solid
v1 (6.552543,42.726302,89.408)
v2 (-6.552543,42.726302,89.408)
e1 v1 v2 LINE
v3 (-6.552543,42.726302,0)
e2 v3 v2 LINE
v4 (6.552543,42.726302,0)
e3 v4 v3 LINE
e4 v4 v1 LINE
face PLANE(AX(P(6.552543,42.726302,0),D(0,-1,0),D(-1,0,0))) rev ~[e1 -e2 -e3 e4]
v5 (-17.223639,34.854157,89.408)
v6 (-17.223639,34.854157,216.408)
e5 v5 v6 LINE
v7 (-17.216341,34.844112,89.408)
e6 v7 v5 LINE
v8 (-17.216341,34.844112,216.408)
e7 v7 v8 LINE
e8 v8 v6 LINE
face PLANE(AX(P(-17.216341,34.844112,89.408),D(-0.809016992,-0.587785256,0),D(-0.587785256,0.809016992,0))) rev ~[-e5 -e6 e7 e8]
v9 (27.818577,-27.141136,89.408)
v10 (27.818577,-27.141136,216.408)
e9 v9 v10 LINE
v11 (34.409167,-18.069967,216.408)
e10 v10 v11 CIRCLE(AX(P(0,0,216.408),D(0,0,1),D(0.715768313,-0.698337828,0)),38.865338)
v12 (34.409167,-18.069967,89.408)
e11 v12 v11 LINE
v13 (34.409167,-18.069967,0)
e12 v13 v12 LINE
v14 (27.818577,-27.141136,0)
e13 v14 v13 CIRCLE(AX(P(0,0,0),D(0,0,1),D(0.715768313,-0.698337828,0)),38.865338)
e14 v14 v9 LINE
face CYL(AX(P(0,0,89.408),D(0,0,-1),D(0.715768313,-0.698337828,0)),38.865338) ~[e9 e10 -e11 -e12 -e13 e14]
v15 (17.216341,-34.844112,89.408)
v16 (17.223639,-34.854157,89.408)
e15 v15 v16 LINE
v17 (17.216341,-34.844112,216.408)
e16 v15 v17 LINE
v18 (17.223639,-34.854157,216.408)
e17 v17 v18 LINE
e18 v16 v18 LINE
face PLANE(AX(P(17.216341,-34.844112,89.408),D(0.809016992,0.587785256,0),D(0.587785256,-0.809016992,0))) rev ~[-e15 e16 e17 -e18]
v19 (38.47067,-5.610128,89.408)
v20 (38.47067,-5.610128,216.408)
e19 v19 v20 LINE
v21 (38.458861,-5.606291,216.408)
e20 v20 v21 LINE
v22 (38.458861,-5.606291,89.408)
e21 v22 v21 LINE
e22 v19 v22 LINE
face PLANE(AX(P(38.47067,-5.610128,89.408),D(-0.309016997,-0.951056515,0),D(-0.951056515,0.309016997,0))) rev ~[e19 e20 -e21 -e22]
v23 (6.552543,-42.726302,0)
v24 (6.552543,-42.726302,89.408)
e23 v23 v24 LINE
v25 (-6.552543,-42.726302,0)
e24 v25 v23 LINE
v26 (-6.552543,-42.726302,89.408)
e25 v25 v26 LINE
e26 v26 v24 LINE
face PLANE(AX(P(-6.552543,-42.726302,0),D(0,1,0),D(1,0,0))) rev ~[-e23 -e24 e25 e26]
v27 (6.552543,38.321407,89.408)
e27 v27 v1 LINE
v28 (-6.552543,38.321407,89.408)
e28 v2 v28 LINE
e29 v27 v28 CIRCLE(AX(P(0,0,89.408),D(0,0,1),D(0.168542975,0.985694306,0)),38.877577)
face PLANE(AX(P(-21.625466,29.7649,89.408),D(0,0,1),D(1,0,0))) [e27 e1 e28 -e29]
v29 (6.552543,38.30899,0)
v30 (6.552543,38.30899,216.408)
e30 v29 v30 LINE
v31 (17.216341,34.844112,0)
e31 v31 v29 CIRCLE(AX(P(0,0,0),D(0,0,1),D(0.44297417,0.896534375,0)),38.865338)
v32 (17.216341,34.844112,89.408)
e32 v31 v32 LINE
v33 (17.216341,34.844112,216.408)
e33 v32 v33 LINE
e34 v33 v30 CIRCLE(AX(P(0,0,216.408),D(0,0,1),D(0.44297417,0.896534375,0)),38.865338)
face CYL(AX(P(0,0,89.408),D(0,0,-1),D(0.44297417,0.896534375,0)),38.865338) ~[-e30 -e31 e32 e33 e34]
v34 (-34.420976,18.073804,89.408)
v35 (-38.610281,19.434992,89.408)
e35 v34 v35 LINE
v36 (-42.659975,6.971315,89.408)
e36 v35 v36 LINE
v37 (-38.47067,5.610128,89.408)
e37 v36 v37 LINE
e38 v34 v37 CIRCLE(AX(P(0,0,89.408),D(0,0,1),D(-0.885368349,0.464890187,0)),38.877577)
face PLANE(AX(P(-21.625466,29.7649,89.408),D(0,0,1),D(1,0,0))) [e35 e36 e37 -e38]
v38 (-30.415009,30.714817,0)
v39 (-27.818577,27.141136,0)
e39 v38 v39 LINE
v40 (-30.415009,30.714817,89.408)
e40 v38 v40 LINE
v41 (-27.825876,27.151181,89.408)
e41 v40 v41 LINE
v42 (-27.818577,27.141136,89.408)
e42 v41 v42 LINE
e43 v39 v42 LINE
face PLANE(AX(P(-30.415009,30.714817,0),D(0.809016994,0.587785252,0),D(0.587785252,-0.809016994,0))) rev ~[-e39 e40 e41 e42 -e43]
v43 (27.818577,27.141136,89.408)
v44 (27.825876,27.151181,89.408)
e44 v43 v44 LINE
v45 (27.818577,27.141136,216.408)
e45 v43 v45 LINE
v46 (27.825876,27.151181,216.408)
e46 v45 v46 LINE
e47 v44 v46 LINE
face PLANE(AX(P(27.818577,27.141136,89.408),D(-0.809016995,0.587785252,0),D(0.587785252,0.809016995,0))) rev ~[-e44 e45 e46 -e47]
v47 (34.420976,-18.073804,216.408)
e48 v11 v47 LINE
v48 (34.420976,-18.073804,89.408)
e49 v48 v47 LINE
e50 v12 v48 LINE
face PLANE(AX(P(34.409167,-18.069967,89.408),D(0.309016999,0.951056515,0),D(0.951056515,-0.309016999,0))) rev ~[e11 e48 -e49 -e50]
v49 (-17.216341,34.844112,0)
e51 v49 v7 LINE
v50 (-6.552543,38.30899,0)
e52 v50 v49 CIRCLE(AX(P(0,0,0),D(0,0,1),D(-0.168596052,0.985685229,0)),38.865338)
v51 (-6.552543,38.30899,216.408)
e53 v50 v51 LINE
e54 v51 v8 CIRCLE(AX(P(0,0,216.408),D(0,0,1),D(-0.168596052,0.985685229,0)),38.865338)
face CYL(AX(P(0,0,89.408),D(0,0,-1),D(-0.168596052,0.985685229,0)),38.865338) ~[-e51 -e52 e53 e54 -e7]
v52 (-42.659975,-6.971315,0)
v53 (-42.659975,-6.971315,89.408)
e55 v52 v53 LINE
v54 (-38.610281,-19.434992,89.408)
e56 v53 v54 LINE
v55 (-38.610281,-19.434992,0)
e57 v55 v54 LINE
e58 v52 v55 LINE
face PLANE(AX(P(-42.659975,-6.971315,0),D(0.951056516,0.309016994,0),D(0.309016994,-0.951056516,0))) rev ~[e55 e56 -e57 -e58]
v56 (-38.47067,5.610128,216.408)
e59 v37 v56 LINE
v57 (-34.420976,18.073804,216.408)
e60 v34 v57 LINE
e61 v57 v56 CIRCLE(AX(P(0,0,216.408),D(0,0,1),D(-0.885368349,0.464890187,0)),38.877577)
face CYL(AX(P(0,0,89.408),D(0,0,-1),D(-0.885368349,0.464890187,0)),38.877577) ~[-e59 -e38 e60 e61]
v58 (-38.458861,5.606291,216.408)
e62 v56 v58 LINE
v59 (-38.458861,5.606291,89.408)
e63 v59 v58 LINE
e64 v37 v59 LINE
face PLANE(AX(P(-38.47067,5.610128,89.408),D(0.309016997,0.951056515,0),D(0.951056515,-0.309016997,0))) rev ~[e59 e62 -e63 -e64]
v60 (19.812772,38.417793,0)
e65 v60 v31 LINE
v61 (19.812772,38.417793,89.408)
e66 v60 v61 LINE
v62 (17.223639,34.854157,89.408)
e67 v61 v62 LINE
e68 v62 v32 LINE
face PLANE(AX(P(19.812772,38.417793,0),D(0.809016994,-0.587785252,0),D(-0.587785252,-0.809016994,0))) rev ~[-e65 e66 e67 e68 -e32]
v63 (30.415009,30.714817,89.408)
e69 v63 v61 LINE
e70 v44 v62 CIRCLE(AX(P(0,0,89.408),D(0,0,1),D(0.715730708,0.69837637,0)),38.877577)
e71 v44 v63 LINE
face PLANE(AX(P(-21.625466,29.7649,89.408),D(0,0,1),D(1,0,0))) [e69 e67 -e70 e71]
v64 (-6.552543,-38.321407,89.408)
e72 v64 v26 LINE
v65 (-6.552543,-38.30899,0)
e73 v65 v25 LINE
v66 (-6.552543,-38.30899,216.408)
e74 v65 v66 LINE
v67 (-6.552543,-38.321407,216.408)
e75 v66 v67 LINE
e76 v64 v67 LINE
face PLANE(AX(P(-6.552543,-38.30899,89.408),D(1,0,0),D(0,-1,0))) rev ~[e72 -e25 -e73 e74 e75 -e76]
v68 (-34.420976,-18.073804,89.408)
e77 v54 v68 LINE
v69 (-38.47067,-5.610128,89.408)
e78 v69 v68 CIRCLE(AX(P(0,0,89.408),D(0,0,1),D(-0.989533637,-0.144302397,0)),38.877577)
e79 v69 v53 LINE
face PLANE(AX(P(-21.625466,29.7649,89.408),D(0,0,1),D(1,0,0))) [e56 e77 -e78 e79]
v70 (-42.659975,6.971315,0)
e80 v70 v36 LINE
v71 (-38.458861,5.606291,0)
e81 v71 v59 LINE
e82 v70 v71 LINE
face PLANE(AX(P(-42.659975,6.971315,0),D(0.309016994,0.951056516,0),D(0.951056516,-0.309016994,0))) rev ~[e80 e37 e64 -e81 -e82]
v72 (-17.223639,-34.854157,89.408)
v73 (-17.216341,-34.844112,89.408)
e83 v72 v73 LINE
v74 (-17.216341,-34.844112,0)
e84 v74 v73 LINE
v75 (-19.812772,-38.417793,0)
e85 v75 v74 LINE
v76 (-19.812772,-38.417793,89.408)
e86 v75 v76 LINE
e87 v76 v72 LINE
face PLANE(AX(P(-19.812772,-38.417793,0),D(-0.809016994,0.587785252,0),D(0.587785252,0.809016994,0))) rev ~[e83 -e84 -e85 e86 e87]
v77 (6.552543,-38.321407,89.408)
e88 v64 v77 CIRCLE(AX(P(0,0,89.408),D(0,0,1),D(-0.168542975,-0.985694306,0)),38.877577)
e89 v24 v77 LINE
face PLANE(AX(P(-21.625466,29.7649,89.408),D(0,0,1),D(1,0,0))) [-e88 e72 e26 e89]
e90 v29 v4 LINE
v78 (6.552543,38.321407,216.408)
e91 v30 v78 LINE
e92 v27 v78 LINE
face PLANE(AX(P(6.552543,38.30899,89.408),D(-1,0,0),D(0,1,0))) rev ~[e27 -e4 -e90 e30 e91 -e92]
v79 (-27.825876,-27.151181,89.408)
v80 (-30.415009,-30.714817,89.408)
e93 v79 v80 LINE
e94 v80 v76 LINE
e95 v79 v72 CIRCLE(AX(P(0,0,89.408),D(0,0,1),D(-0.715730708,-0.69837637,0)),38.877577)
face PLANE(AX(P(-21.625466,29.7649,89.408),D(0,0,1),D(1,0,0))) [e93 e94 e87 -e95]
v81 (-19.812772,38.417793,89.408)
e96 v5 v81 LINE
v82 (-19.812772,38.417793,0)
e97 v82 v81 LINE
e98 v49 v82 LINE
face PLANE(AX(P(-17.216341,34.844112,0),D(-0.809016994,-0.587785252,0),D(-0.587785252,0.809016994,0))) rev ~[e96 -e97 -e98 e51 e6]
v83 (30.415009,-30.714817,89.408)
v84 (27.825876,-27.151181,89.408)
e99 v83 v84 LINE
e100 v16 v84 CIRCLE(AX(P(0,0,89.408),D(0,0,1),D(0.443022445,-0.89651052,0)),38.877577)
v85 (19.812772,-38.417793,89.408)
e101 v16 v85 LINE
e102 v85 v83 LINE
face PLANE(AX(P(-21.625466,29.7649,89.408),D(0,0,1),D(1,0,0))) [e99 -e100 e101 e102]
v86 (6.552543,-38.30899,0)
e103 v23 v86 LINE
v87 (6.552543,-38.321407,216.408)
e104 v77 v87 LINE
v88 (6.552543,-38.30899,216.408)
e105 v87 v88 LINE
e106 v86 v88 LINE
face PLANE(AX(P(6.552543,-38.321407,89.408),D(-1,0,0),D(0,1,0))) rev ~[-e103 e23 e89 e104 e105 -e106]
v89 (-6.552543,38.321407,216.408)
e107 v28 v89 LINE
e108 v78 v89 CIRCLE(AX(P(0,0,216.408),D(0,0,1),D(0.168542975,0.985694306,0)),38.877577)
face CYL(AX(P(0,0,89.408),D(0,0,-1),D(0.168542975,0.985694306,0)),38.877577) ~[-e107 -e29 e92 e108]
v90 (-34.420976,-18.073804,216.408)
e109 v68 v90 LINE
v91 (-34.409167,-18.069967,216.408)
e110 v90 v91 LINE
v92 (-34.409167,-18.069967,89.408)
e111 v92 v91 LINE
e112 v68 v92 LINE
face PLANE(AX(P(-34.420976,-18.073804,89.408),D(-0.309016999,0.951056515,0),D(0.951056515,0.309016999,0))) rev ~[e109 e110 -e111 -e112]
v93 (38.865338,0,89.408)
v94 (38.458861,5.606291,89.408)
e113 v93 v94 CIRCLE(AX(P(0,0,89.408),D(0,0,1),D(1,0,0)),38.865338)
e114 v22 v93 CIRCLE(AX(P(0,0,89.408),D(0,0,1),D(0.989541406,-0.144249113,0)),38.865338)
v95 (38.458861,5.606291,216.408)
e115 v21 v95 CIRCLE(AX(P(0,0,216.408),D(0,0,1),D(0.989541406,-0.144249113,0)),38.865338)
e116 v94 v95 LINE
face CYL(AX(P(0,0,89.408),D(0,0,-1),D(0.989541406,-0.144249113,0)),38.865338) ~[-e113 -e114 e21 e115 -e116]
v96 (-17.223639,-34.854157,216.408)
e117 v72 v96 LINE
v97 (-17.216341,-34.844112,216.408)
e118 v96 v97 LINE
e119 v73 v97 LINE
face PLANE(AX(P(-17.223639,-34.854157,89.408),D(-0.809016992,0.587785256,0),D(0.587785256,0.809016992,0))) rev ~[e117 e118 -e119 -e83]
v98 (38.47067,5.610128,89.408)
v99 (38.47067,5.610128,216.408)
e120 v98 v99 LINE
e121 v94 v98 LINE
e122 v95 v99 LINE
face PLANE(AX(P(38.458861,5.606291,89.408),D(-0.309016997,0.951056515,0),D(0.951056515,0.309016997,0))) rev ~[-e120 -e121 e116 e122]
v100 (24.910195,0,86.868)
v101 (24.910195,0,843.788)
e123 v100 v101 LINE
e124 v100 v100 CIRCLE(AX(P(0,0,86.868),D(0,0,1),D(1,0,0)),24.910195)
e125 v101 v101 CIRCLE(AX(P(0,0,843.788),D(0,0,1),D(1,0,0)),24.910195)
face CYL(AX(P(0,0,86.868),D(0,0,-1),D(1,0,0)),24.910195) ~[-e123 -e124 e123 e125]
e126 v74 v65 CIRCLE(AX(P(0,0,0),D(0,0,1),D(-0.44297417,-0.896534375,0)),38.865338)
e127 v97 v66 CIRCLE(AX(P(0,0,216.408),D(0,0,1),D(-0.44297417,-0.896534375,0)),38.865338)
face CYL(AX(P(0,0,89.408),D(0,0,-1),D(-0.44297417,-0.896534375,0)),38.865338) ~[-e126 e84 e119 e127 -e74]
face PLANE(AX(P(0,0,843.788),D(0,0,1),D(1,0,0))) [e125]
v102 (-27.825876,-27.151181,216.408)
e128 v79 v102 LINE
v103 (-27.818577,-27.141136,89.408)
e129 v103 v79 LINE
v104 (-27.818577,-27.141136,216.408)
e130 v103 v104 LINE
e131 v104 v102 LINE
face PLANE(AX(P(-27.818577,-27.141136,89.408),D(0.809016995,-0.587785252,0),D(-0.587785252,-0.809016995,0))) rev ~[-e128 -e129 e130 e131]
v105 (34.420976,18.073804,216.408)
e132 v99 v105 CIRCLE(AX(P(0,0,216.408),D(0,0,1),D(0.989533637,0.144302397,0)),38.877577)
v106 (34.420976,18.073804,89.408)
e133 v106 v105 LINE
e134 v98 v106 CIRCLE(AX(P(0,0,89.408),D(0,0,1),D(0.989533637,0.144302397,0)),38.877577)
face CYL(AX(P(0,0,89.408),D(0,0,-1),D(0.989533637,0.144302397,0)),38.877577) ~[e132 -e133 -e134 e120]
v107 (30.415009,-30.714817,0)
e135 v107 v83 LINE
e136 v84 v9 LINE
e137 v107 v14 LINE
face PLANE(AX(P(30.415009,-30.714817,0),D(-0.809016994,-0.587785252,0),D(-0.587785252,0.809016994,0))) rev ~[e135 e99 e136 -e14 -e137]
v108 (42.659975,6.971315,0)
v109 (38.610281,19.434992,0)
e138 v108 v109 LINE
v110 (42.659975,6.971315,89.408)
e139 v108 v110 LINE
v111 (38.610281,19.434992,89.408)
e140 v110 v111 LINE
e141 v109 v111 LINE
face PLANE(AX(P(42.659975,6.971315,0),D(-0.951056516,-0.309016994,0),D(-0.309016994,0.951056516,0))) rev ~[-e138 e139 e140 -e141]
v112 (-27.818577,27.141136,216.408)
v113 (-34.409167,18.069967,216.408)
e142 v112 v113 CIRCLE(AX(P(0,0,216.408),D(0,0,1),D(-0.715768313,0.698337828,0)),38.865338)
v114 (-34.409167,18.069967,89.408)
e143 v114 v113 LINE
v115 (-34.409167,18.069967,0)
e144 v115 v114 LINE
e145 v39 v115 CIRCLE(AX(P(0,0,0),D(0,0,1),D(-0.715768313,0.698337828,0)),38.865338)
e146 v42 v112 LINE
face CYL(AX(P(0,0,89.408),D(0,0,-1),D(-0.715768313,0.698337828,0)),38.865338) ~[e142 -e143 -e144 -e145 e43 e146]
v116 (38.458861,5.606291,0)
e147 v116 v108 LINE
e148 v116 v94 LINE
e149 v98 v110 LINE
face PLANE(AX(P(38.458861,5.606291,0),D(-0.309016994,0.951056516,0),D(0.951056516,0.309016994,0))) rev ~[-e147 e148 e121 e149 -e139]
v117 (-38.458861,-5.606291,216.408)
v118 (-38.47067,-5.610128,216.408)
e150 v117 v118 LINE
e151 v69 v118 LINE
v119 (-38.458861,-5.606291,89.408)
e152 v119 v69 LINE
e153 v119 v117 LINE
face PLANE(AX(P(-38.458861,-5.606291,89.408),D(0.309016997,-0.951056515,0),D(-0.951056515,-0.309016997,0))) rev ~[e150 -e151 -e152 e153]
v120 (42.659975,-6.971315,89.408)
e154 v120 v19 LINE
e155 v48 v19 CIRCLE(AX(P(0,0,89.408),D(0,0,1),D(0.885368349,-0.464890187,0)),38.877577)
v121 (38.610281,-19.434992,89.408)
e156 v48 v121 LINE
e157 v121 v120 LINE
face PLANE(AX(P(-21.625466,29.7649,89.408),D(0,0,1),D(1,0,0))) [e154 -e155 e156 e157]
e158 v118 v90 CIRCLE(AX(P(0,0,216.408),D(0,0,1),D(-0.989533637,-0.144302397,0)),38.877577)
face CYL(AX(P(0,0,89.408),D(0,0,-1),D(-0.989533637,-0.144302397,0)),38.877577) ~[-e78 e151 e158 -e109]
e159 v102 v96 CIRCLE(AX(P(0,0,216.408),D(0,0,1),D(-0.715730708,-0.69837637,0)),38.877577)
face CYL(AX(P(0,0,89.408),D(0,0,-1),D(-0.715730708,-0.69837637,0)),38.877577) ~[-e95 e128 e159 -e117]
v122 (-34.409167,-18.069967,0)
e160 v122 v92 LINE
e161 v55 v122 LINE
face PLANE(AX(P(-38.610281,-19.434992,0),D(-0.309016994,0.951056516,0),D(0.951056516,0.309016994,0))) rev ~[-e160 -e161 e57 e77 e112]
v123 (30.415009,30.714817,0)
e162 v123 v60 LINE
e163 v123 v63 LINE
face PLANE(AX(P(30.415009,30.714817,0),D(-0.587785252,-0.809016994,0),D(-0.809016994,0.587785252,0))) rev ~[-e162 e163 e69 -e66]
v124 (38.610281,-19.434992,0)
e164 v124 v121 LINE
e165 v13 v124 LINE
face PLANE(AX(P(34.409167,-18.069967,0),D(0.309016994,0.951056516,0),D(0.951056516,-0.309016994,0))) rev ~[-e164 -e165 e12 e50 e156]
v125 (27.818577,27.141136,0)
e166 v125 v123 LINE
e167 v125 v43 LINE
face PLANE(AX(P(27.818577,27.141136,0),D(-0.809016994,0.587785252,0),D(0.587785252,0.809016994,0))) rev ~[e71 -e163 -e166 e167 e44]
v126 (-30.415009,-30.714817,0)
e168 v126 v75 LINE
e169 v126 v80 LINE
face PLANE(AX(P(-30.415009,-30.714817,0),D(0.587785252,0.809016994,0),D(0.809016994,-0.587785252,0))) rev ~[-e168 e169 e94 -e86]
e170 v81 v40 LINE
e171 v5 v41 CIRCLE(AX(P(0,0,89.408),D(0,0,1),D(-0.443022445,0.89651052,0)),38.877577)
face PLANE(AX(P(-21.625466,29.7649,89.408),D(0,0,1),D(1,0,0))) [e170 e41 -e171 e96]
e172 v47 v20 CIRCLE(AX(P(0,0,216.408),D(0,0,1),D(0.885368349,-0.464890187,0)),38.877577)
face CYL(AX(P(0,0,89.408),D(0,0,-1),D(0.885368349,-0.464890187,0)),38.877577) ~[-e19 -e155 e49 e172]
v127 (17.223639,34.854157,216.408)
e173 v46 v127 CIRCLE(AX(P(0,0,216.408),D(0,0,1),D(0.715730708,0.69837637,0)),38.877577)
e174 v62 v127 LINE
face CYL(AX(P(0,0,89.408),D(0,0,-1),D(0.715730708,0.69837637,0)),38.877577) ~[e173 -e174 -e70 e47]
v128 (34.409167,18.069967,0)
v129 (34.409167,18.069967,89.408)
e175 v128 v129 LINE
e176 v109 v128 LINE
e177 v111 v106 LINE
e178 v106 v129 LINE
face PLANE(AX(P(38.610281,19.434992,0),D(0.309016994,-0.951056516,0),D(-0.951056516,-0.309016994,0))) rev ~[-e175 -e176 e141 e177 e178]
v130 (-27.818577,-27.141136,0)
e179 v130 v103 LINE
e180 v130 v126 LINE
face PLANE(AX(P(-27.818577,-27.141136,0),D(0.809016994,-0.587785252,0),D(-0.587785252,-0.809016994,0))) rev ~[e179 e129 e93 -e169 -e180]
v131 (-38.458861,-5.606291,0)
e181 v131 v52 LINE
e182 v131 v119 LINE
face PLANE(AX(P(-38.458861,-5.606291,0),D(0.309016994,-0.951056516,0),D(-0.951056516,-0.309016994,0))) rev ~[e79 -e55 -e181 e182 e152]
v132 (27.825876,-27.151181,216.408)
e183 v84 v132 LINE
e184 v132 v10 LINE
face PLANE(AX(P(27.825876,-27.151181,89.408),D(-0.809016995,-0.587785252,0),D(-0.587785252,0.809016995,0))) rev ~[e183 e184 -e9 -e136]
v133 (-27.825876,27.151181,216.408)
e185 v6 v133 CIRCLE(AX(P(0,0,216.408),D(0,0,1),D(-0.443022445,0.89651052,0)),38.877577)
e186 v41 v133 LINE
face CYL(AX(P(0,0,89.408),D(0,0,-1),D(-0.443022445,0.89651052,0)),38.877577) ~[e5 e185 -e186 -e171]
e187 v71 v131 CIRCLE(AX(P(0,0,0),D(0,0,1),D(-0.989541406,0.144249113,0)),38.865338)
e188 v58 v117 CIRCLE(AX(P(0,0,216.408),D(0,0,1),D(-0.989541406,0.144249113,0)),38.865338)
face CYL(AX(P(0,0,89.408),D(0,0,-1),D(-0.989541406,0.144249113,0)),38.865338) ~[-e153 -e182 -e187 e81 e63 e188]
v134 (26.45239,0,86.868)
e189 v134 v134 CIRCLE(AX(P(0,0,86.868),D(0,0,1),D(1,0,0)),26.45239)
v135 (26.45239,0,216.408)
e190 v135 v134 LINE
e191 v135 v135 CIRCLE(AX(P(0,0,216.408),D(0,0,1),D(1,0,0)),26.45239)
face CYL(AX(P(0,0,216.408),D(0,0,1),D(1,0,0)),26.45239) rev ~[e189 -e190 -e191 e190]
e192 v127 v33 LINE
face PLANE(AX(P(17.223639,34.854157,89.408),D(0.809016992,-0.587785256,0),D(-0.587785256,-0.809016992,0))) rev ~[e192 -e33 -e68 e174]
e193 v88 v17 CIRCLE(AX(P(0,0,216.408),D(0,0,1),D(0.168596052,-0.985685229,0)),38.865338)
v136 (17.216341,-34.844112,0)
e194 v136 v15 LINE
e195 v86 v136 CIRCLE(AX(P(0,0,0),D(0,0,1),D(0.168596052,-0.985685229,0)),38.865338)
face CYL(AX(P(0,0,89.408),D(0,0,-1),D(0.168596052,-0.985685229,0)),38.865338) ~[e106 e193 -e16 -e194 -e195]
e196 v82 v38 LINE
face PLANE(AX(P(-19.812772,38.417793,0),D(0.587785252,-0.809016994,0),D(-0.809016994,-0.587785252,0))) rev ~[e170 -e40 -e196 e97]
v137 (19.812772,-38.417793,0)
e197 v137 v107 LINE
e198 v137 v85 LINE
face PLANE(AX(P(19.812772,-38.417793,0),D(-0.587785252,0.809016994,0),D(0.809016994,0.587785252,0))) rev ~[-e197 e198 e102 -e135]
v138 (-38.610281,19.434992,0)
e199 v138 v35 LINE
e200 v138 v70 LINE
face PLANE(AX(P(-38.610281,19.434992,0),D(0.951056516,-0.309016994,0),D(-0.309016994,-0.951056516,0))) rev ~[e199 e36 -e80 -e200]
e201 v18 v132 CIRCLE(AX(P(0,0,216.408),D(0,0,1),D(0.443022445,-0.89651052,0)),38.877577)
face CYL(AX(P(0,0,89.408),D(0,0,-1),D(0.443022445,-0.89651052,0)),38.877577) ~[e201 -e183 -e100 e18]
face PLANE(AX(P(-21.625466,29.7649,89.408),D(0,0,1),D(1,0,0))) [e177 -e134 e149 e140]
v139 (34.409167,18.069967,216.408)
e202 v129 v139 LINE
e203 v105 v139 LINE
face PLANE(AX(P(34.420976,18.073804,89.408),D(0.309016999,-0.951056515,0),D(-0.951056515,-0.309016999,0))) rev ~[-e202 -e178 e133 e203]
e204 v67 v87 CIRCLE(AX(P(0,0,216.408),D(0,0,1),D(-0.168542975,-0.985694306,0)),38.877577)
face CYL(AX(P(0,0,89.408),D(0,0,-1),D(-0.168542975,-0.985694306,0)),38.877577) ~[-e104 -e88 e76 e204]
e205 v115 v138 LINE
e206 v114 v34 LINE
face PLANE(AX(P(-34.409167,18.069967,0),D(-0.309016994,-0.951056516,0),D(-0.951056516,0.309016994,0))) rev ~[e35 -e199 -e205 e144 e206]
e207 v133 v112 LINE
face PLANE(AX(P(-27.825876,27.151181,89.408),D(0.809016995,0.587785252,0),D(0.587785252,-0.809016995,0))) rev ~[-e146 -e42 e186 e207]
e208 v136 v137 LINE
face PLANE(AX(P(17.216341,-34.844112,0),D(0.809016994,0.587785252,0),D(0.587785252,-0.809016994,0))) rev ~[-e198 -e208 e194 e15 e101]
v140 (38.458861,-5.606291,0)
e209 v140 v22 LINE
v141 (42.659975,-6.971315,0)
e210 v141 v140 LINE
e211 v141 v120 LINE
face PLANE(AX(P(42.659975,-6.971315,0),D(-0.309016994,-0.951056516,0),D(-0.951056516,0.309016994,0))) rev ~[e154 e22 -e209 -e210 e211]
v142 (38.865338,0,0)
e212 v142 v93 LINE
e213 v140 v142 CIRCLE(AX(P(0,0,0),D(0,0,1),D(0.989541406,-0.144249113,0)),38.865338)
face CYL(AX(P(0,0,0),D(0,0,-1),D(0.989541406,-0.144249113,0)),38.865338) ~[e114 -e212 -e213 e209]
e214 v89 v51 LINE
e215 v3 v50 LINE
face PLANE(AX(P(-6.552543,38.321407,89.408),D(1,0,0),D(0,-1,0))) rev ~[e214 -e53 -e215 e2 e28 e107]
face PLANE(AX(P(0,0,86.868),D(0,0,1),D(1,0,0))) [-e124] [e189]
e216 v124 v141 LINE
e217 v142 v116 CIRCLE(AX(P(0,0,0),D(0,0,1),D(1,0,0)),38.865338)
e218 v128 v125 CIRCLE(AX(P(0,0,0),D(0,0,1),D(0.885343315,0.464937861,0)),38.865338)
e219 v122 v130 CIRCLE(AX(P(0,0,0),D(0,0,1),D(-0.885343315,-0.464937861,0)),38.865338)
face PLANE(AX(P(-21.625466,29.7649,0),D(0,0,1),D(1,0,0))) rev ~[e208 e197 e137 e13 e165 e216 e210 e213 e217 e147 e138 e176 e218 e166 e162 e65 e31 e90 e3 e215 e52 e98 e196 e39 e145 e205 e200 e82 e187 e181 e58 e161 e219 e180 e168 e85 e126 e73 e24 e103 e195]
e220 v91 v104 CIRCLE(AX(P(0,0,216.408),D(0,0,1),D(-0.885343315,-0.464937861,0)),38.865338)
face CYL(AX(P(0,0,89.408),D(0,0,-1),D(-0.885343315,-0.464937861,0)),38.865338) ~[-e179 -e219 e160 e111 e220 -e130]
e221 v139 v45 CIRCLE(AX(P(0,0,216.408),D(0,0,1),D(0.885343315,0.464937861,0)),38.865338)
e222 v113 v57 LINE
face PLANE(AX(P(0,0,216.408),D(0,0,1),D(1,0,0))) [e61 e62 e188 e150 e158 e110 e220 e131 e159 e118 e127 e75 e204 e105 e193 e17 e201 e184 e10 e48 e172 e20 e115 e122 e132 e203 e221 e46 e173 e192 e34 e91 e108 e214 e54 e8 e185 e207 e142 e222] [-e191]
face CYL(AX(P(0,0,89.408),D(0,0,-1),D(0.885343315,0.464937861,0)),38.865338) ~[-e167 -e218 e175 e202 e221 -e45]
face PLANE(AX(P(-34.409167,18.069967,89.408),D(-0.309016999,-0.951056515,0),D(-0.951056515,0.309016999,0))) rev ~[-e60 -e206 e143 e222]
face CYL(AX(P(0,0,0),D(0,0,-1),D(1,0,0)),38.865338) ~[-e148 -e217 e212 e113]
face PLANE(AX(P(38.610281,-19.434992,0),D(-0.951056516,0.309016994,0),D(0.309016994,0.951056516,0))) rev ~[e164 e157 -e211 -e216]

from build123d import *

# Parameters (mm, degrees)
F1_DEPTH = 89.408
F3_DEPTH = 127
F4_R     = 26.4523902525
F5_DEPTH = 129.54
F6_R     = 24.9101946144
F7_DEPTH = 756.92


with BuildPart() as f1:
    # F0 (on Top) → F1 (new body)
    with BuildSketch(Plane.XY):
        with BuildLine():
            Line((-15.273936304, 32.1706210337), (-17.2163408372, 34.8441115156))
            ThreePointArc((-17.2163408372, 34.8441115156), (-22.8444725114, 31.4427189474), (-27.8185774117, 27.1411357522))
            Line((-27.8185774117, 27.1411357522), (-25.8761728785, 24.4676452704))
            Line((-25.8761728785, 24.4676452704), (-15.273936304, 32.1706210337))
        make_face()
        with BuildLine():
            ThreePointArc((-27.8185774117, 27.1411357522), (-22.8444725114, 31.4427189474), (-17.2163408372, 34.8441115156))
            Line((-17.2163408372, 34.8441115156), (-19.8127721444, 38.4177926245))
            Line((-19.8127721444, 38.4177926245), (-30.4150087189, 30.7148168611))
            Line((-30.4150087189, 30.7148168611), (-27.8185774117, 27.1411357522))
        make_face()
        with BuildLine():
            ThreePointArc((-38.458861211, 5.6062905278), (-36.9631329786, 12.0100499392), (-34.4091671964, 18.0699671274))
            Line((-34.4091671964, 18.0699671274), (-38.6102813008, 19.4349918461))
            Line((-38.6102813008, 19.4349918461), (-42.6599753155, 6.9713152465))
            Line((-42.6599753155, 6.9713152465), (-38.458861211, 5.6062905278))
        make_face()
        with BuildLine():
            Line((-31.2662906416, 17.048784632), (-34.4091671964, 18.0699671274))
            ThreePointArc((-34.4091671964, 18.0699671274), (-36.9631329786, 12.0100499392), (-38.458861211, 5.6062905278))
            Line((-38.458861211, 5.6062905278), (-35.3159846563, 4.5851080324))
            Line((-35.3159846563, 4.5851080324), (-31.2662906416, 17.048784632))
        make_face()
        with BuildLine():
            Line((-38.6102813008, -19.4349918461), (-34.4091671964, -18.0699671274))
            ThreePointArc((-34.4091671964, -18.0699671274), (-36.9631329786, -12.0100499392), (-38.458861211, -5.6062905278))
            Line((-38.458861211, -5.6062905278), (-42.6599753155, -6.9713152465))
            Line((-42.6599753155, -6.9713152465), (-38.6102813008, -19.4349918461))
        make_face()
        with BuildLine():
            ThreePointArc((-38.458861211, -5.6062905278), (-36.9631329786, -12.0100499392), (-34.4091671964, -18.0699671274))
            Line((-34.4091671964, -18.0699671274), (-31.2662906416, -17.048784632))
            Line((-31.2662906416, -17.048784632), (-35.3159846563, -4.5851080324))
            Line((-35.3159846563, -4.5851080324), (-38.458861211, -5.6062905278))
        make_face()
        with BuildLine():
            Line((-19.8127721444, -38.4177926245), (-17.2163408372, -34.8441115156))
            ThreePointArc((-17.2163408372, -34.8441115156), (-22.8444725114, -31.4427189474), (-27.8185774117, -27.1411357522))
            Line((-27.8185774117, -27.1411357522), (-30.4150087189, -30.7148168611))
            Line((-30.4150087189, -30.7148168611), (-19.8127721444, -38.4177926245))
        make_face()
        with BuildLine():
            ThreePointArc((-27.8185774117, -27.1411357522), (-22.8444725114, -31.4427189474), (-17.2163408372, -34.8441115156))
            Line((-17.2163408372, -34.8441115156), (-15.273936304, -32.1706210337))
            Line((-15.273936304, -32.1706210337), (-25.8761728785, -24.4676452704))
            Line((-25.8761728785, -24.4676452704), (-27.8185774117, -27.1411357522))
        make_face()
        with BuildLine():
            Line((6.5525425598, -42.7263023931), (6.5525425598, -38.3089896126))
            ThreePointArc((6.5525425598, -38.3089896126), (0, -38.8653380164), (-6.5525425598, -38.3089896126))
            Line((-6.5525425598, -38.3089896126), (-6.5525425598, -42.7263023931))
            Line((-6.5525425598, -42.7263023931), (6.5525425598, -42.7263023931))
        make_face()
        with BuildLine():
            Line((30.4150087189, -30.7148168611), (27.8185774117, -27.1411357522))
            ThreePointArc((27.8185774117, -27.1411357522), (22.8444725114, -31.4427189474), (17.2163408372, -34.8441115156))
            Line((17.2163408372, -34.8441115156), (19.8127721444, -38.4177926245))
            Line((19.8127721444, -38.4177926245), (30.4150087189, -30.7148168611))
        make_face()
        with BuildLine():
            ThreePointArc((17.2163408372, -34.8441115156), (22.8444725114, -31.4427189474), (27.8185774117, -27.1411357522))
            Line((27.8185774117, -27.1411357522), (25.8761728785, -24.4676452704))
            Line((25.8761728785, -24.4676452704), (15.273936304, -32.1706210337))
            Line((15.273936304, -32.1706210337), (17.2163408372, -34.8441115156))
        make_face()
        with BuildLine():
            ThreePointArc((34.4091671964, -18.0699671274), (36.9631329786, -12.0100499392), (38.458861211, -5.6062905278))
            Line((38.458861211, -5.6062905278), (35.3159846563, -4.5851080324))
            Line((35.3159846563, -4.5851080324), (31.2662906416, -17.048784632))
            Line((31.2662906416, -17.048784632), (34.4091671964, -18.0699671274))
        make_face()
        with BuildLine():
            Line((42.6599753155, -6.9713152465), (38.458861211, -5.6062905278))
            ThreePointArc((38.458861211, -5.6062905278), (36.9631329786, -12.0100499392), (34.4091671964, -18.0699671274))
            Line((34.4091671964, -18.0699671274), (38.6102813008, -19.4349918461))
            Line((38.6102813008, -19.4349918461), (42.6599753155, -6.9713152465))
        make_face()
        with BuildLine():
            Line((35.3159846563, 4.5851080324), (38.458861211, 5.6062905278))
            ThreePointArc((38.458861211, 5.6062905278), (36.9631329786, 12.0100499392), (34.4091671964, 18.0699671274))
            Line((34.4091671964, 18.0699671274), (31.2662906416, 17.048784632))
            Line((31.2662906416, 17.048784632), (35.3159846563, 4.5851080324))
        make_face()
        with BuildLine():
            ThreePointArc((34.4091671964, 18.0699671274), (36.9631329786, 12.0100499392), (38.458861211, 5.6062905278))
            Line((38.458861211, 5.6062905278), (42.6599753155, 6.9713152465))
            Line((42.6599753155, 6.9713152465), (38.6102813008, 19.4349918461))
            Line((38.6102813008, 19.4349918461), (34.4091671964, 18.0699671274))
        make_face()
        with BuildLine():
            Line((25.8761728785, 24.4676452704), (27.8185774117, 27.1411357522))
            ThreePointArc((27.8185774117, 27.1411357522), (22.8444725114, 31.4427189474), (17.2163408372, 34.8441115156))
            Line((17.2163408372, 34.8441115156), (15.273936304, 32.1706210337))
            Line((15.273936304, 32.1706210337), (25.8761728785, 24.4676452704))
        make_face()
        with BuildLine():
            ThreePointArc((17.2163408372, 34.8441115156), (22.8444725114, 31.4427189474), (27.8185774117, 27.1411357522))
            Line((27.8185774117, 27.1411357522), (30.4150087189, 30.7148168611))
            Line((30.4150087189, 30.7148168611), (19.8127721444, 38.4177926245))
            Line((19.8127721444, 38.4177926245), (17.2163408372, 34.8441115156))
        make_face()
        with BuildLine():
            Line((6.5525425598, 35.0043736398), (6.5525425598, 38.3089896126))
            ThreePointArc((6.5525425598, 38.3089896126), (0, 38.8653380164), (-6.5525425598, 38.3089896126))
            Line((-6.5525425598, 38.3089896126), (-6.5525425598, 35.0043736398))
            Line((-6.5525425598, 35.0043736398), (6.5525425598, 35.0043736398))
        make_face()
        with BuildLine():
            ThreePointArc((-6.5525425598, 38.3089896126), (0, 38.8653380164), (6.5525425598, 38.3089896126))
            Line((6.5525425598, 38.3089896126), (6.5525425598, 42.7263023931))
            Line((6.5525425598, 42.7263023931), (-6.5525425598, 42.7263023931))
            Line((-6.5525425598, 42.7263023931), (-6.5525425598, 38.3089896126))
        make_face()
        with BuildLine():
            ThreePointArc((-6.5525425598, -38.3089896126), (0, -38.8653380164), (6.5525425598, -38.3089896126))
            Line((6.5525425598, -38.3089896126), (6.5525425598, -35.0043736398))
            Line((6.5525425598, -35.0043736398), (-6.5525425598, -35.0043736398))
            Line((-6.5525425598, -35.0043736398), (-6.5525425598, -38.3089896126))
        make_face()
        with BuildLine():
            ThreePointArc((38.458861211, -5.6062905278), (38.7635856174, -2.8105033746), (38.8653380164, 0))
            ThreePointArc((38.8653380164, 0), (38.7635856174, 2.8105033746), (38.458861211, 5.6062905278))
            Line((38.458861211, 5.6062905278), (35.3159846563, 4.5851080324))
            Line((35.3159846563, 4.5851080324), (31.2662906416, 17.048784632))
            Line((31.2662906416, 17.048784632), (34.4091671964, 18.0699671274))
            ThreePointArc((34.4091671964, 18.0699671274), (31.4427189474, 22.8444725114), (27.8185774117, 27.1411357522))
            Line((27.8185774117, 27.1411357522), (25.8761728785, 24.4676452704))
            Line((25.8761728785, 24.4676452704), (15.273936304, 32.1706210337))
            Line((15.273936304, 32.1706210337), (17.2163408372, 34.8441115156))
            ThreePointArc((17.2163408372, 34.8441115156), (12.0100499392, 36.9631329786), (6.5525425598, 38.3089896126))
            Line((6.5525425598, 38.3089896126), (6.5525425598, 35.0043736398))
            Line((6.5525425598, 35.0043736398), (-6.5525425598, 35.0043736398))
            Line((-6.5525425598, 35.0043736398), (-6.5525425598, 38.3089896126))
            ThreePointArc((-6.5525425598, 38.3089896126), (-12.0100499392, 36.9631329786), (-17.2163408372, 34.8441115156))
            Line((-17.2163408372, 34.8441115156), (-15.273936304, 32.1706210337))
            Line((-15.273936304, 32.1706210337), (-25.8761728785, 24.4676452704))
            Line((-25.8761728785, 24.4676452704), (-27.8185774117, 27.1411357522))
            ThreePointArc((-27.8185774117, 27.1411357522), (-31.4427189474, 22.8444725114), (-34.4091671964, 18.0699671274))
            Line((-34.4091671964, 18.0699671274), (-31.2662906416, 17.048784632))
            Line((-31.2662906416, 17.048784632), (-35.3159846563, 4.5851080324))
            Line((-35.3159846563, 4.5851080324), (-38.458861211, 5.6062905278))
            ThreePointArc((-38.458861211, 5.6062905278), (-38.8653380164, 0), (-38.458861211, -5.6062905278))
            Line((-38.458861211, -5.6062905278), (-35.3159846563, -4.5851080324))
            Line((-35.3159846563, -4.5851080324), (-31.2662906416, -17.048784632))
            Line((-31.2662906416, -17.048784632), (-34.4091671964, -18.0699671274))
            ThreePointArc((-34.4091671964, -18.0699671274), (-31.4427189474, -22.8444725114), (-27.8185774117, -27.1411357522))
            Line((-27.8185774117, -27.1411357522), (-25.8761728785, -24.4676452704))
            Line((-25.8761728785, -24.4676452704), (-15.273936304, -32.1706210337))
            Line((-15.273936304, -32.1706210337), (-17.2163408372, -34.8441115156))
            ThreePointArc((-17.2163408372, -34.8441115156), (-12.0100499392, -36.9631329786), (-6.5525425598, -38.3089896126))
            Line((-6.5525425598, -38.3089896126), (-6.5525425598, -35.0043736398))
            Line((-6.5525425598, -35.0043736398), (6.5525425598, -35.0043736398))
            Line((6.5525425598, -35.0043736398), (6.5525425598, -38.3089896126))
            ThreePointArc((6.5525425598, -38.3089896126), (12.0100499392, -36.9631329786), (17.2163408372, -34.8441115156))
            Line((17.2163408372, -34.8441115156), (15.273936304, -32.1706210337))
            Line((15.273936304, -32.1706210337), (25.8761728785, -24.4676452704))
            Line((25.8761728785, -24.4676452704), (27.8185774117, -27.1411357522))
            ThreePointArc((27.8185774117, -27.1411357522), (31.4427189474, -22.8444725114), (34.4091671964, -18.0699671274))
            Line((34.4091671964, -18.0699671274), (31.2662906416, -17.048784632))
            Line((31.2662906416, -17.048784632), (35.3159846563, -4.5851080324))
            Line((35.3159846563, -4.5851080324), (38.458861211, -5.6062905278))
        make_face()
    extrude(amount=F1_DEPTH)

    # F2 (on face) → F3 (join)
    with BuildSketch(Plane.XY.offset(89.408)):
        with BuildLine():
            Line((38.458861211, 5.6062905278), (38.4706704839, 5.6101275932))
            ThreePointArc((38.4706704839, 5.6101275932), (36.974773258, 12.0138320953), (34.4209764692, 18.0738041928))
            Line((34.4209764692, 18.0738041928), (34.4091671964, 18.0699671274))
            ThreePointArc((34.4091671964, 18.0699671274), (31.4427189474, 22.8444725114), (27.8185774117, 27.1411357522))
            Line((27.8185774117, 27.1411357522), (27.8258759437, 27.1511813197))
            ThreePointArc((27.8258759437, 27.1511813197), (22.8516665997, 31.4526207605), (17.2236393692, 34.854157083))
            Line((17.2236393692, 34.854157083), (17.2163408372, 34.8441115156))
            ThreePointArc((17.2163408372, 34.8441115156), (12.0100499392, 36.9631329786), (6.5525425598, 38.3089896126))
            Line((6.5525425598, 38.3089896126), (6.5525425598, 38.3214066168))
            ThreePointArc((6.5525425598, 38.3214066168), (0, 38.8775773305), (-6.5525425598, 38.3214066168))
            Line((-6.5525425598, 38.3214066168), (-6.5525425598, 38.3089896126))
            ThreePointArc((-6.5525425598, 38.3089896126), (-12.0100499392, 36.9631329786), (-17.2163408372, 34.8441115156))
            Line((-17.2163408372, 34.8441115156), (-17.2236393692, 34.854157083))
            ThreePointArc((-17.2236393692, 34.854157083), (-22.8516665997, 31.4526207605), (-27.8258759437, 27.1511813197))
            Line((-27.8258759437, 27.1511813197), (-27.8185774117, 27.1411357522))
            ThreePointArc((-27.8185774117, 27.1411357522), (-31.4427189474, 22.8444725114), (-34.4091671964, 18.0699671274))
            Line((-34.4091671964, 18.0699671274), (-34.4209764692, 18.0738041928))
            ThreePointArc((-34.4209764692, 18.0738041928), (-36.974773258, 12.0138320953), (-38.4706704839, 5.6101275932))
            Line((-38.4706704839, 5.6101275932), (-38.458861211, 5.6062905278))
            ThreePointArc((-38.458861211, 5.6062905278), (-38.8653380164, 0), (-38.458861211, -5.6062905278))
            Line((-38.458861211, -5.6062905278), (-38.4706704839, -5.6101275932))
            ThreePointArc((-38.4706704839, -5.6101275932), (-36.974773258, -12.0138320953), (-34.4209764692, -18.0738041928))
            Line((-34.4209764692, -18.0738041928), (-34.4091671964, -18.0699671274))
            ThreePointArc((-34.4091671964, -18.0699671274), (-31.4427189474, -22.8444725114), (-27.8185774117, -27.1411357522))
            Line((-27.8185774117, -27.1411357522), (-27.8258759437, -27.1511813197))
            ThreePointArc((-27.8258759437, -27.1511813197), (-22.8516665997, -31.4526207605), (-17.2236393692, -34.854157083))
            Line((-17.2236393692, -34.854157083), (-17.2163408372, -34.8441115156))
            ThreePointArc((-17.2163408372, -34.8441115156), (-12.0100499392, -36.9631329786), (-6.5525425598, -38.3089896126))
            Line((-6.5525425598, -38.3089896126), (-6.5525425598, -38.3214066168))
            ThreePointArc((-6.5525425598, -38.3214066168), (0, -38.8775773305), (6.5525425598, -38.3214066168))
            Line((6.5525425598, -38.3214066168), (6.5525425598, -38.3089896126))
            ThreePointArc((6.5525425598, -38.3089896126), (12.0100499392, -36.9631329786), (17.2163408372, -34.8441115156))
            Line((17.2163408372, -34.8441115156), (17.2236393692, -34.854157083))
            ThreePointArc((17.2236393692, -34.854157083), (22.8516665997, -31.4526207605), (27.8258759437, -27.1511813197))
            Line((27.8258759437, -27.1511813197), (27.8185774117, -27.1411357522))
            ThreePointArc((27.8185774117, -27.1411357522), (31.4427189474, -22.8444725114), (34.4091671964, -18.0699671274))
            Line((34.4091671964, -18.0699671274), (34.4209764692, -18.0738041928))
            ThreePointArc((34.4209764692, -18.0738041928), (36.974773258, -12.0138320953), (38.4706704839, -5.6101275932))
            Line((38.4706704839, -5.6101275932), (38.458861211, -5.6062905278))
            ThreePointArc((38.458861211, -5.6062905278), (38.8653380164, 0), (38.458861211, 5.6062905278))
        make_face()
    extrude(amount=F3_DEPTH)

    # F4 (on face) → F5 (cut)
    with BuildSketch(Plane.XY.offset(216.408)):
        Circle(F4_R)
    extrude(amount=-F5_DEPTH, mode=Mode.SUBTRACT)

    # F6 (on face) → F7 (join)
    with BuildSketch(Plane.XY.offset(86.868)):
        Circle(F6_R)
    extrude(amount=F7_DEPTH)


solid = f1.part
